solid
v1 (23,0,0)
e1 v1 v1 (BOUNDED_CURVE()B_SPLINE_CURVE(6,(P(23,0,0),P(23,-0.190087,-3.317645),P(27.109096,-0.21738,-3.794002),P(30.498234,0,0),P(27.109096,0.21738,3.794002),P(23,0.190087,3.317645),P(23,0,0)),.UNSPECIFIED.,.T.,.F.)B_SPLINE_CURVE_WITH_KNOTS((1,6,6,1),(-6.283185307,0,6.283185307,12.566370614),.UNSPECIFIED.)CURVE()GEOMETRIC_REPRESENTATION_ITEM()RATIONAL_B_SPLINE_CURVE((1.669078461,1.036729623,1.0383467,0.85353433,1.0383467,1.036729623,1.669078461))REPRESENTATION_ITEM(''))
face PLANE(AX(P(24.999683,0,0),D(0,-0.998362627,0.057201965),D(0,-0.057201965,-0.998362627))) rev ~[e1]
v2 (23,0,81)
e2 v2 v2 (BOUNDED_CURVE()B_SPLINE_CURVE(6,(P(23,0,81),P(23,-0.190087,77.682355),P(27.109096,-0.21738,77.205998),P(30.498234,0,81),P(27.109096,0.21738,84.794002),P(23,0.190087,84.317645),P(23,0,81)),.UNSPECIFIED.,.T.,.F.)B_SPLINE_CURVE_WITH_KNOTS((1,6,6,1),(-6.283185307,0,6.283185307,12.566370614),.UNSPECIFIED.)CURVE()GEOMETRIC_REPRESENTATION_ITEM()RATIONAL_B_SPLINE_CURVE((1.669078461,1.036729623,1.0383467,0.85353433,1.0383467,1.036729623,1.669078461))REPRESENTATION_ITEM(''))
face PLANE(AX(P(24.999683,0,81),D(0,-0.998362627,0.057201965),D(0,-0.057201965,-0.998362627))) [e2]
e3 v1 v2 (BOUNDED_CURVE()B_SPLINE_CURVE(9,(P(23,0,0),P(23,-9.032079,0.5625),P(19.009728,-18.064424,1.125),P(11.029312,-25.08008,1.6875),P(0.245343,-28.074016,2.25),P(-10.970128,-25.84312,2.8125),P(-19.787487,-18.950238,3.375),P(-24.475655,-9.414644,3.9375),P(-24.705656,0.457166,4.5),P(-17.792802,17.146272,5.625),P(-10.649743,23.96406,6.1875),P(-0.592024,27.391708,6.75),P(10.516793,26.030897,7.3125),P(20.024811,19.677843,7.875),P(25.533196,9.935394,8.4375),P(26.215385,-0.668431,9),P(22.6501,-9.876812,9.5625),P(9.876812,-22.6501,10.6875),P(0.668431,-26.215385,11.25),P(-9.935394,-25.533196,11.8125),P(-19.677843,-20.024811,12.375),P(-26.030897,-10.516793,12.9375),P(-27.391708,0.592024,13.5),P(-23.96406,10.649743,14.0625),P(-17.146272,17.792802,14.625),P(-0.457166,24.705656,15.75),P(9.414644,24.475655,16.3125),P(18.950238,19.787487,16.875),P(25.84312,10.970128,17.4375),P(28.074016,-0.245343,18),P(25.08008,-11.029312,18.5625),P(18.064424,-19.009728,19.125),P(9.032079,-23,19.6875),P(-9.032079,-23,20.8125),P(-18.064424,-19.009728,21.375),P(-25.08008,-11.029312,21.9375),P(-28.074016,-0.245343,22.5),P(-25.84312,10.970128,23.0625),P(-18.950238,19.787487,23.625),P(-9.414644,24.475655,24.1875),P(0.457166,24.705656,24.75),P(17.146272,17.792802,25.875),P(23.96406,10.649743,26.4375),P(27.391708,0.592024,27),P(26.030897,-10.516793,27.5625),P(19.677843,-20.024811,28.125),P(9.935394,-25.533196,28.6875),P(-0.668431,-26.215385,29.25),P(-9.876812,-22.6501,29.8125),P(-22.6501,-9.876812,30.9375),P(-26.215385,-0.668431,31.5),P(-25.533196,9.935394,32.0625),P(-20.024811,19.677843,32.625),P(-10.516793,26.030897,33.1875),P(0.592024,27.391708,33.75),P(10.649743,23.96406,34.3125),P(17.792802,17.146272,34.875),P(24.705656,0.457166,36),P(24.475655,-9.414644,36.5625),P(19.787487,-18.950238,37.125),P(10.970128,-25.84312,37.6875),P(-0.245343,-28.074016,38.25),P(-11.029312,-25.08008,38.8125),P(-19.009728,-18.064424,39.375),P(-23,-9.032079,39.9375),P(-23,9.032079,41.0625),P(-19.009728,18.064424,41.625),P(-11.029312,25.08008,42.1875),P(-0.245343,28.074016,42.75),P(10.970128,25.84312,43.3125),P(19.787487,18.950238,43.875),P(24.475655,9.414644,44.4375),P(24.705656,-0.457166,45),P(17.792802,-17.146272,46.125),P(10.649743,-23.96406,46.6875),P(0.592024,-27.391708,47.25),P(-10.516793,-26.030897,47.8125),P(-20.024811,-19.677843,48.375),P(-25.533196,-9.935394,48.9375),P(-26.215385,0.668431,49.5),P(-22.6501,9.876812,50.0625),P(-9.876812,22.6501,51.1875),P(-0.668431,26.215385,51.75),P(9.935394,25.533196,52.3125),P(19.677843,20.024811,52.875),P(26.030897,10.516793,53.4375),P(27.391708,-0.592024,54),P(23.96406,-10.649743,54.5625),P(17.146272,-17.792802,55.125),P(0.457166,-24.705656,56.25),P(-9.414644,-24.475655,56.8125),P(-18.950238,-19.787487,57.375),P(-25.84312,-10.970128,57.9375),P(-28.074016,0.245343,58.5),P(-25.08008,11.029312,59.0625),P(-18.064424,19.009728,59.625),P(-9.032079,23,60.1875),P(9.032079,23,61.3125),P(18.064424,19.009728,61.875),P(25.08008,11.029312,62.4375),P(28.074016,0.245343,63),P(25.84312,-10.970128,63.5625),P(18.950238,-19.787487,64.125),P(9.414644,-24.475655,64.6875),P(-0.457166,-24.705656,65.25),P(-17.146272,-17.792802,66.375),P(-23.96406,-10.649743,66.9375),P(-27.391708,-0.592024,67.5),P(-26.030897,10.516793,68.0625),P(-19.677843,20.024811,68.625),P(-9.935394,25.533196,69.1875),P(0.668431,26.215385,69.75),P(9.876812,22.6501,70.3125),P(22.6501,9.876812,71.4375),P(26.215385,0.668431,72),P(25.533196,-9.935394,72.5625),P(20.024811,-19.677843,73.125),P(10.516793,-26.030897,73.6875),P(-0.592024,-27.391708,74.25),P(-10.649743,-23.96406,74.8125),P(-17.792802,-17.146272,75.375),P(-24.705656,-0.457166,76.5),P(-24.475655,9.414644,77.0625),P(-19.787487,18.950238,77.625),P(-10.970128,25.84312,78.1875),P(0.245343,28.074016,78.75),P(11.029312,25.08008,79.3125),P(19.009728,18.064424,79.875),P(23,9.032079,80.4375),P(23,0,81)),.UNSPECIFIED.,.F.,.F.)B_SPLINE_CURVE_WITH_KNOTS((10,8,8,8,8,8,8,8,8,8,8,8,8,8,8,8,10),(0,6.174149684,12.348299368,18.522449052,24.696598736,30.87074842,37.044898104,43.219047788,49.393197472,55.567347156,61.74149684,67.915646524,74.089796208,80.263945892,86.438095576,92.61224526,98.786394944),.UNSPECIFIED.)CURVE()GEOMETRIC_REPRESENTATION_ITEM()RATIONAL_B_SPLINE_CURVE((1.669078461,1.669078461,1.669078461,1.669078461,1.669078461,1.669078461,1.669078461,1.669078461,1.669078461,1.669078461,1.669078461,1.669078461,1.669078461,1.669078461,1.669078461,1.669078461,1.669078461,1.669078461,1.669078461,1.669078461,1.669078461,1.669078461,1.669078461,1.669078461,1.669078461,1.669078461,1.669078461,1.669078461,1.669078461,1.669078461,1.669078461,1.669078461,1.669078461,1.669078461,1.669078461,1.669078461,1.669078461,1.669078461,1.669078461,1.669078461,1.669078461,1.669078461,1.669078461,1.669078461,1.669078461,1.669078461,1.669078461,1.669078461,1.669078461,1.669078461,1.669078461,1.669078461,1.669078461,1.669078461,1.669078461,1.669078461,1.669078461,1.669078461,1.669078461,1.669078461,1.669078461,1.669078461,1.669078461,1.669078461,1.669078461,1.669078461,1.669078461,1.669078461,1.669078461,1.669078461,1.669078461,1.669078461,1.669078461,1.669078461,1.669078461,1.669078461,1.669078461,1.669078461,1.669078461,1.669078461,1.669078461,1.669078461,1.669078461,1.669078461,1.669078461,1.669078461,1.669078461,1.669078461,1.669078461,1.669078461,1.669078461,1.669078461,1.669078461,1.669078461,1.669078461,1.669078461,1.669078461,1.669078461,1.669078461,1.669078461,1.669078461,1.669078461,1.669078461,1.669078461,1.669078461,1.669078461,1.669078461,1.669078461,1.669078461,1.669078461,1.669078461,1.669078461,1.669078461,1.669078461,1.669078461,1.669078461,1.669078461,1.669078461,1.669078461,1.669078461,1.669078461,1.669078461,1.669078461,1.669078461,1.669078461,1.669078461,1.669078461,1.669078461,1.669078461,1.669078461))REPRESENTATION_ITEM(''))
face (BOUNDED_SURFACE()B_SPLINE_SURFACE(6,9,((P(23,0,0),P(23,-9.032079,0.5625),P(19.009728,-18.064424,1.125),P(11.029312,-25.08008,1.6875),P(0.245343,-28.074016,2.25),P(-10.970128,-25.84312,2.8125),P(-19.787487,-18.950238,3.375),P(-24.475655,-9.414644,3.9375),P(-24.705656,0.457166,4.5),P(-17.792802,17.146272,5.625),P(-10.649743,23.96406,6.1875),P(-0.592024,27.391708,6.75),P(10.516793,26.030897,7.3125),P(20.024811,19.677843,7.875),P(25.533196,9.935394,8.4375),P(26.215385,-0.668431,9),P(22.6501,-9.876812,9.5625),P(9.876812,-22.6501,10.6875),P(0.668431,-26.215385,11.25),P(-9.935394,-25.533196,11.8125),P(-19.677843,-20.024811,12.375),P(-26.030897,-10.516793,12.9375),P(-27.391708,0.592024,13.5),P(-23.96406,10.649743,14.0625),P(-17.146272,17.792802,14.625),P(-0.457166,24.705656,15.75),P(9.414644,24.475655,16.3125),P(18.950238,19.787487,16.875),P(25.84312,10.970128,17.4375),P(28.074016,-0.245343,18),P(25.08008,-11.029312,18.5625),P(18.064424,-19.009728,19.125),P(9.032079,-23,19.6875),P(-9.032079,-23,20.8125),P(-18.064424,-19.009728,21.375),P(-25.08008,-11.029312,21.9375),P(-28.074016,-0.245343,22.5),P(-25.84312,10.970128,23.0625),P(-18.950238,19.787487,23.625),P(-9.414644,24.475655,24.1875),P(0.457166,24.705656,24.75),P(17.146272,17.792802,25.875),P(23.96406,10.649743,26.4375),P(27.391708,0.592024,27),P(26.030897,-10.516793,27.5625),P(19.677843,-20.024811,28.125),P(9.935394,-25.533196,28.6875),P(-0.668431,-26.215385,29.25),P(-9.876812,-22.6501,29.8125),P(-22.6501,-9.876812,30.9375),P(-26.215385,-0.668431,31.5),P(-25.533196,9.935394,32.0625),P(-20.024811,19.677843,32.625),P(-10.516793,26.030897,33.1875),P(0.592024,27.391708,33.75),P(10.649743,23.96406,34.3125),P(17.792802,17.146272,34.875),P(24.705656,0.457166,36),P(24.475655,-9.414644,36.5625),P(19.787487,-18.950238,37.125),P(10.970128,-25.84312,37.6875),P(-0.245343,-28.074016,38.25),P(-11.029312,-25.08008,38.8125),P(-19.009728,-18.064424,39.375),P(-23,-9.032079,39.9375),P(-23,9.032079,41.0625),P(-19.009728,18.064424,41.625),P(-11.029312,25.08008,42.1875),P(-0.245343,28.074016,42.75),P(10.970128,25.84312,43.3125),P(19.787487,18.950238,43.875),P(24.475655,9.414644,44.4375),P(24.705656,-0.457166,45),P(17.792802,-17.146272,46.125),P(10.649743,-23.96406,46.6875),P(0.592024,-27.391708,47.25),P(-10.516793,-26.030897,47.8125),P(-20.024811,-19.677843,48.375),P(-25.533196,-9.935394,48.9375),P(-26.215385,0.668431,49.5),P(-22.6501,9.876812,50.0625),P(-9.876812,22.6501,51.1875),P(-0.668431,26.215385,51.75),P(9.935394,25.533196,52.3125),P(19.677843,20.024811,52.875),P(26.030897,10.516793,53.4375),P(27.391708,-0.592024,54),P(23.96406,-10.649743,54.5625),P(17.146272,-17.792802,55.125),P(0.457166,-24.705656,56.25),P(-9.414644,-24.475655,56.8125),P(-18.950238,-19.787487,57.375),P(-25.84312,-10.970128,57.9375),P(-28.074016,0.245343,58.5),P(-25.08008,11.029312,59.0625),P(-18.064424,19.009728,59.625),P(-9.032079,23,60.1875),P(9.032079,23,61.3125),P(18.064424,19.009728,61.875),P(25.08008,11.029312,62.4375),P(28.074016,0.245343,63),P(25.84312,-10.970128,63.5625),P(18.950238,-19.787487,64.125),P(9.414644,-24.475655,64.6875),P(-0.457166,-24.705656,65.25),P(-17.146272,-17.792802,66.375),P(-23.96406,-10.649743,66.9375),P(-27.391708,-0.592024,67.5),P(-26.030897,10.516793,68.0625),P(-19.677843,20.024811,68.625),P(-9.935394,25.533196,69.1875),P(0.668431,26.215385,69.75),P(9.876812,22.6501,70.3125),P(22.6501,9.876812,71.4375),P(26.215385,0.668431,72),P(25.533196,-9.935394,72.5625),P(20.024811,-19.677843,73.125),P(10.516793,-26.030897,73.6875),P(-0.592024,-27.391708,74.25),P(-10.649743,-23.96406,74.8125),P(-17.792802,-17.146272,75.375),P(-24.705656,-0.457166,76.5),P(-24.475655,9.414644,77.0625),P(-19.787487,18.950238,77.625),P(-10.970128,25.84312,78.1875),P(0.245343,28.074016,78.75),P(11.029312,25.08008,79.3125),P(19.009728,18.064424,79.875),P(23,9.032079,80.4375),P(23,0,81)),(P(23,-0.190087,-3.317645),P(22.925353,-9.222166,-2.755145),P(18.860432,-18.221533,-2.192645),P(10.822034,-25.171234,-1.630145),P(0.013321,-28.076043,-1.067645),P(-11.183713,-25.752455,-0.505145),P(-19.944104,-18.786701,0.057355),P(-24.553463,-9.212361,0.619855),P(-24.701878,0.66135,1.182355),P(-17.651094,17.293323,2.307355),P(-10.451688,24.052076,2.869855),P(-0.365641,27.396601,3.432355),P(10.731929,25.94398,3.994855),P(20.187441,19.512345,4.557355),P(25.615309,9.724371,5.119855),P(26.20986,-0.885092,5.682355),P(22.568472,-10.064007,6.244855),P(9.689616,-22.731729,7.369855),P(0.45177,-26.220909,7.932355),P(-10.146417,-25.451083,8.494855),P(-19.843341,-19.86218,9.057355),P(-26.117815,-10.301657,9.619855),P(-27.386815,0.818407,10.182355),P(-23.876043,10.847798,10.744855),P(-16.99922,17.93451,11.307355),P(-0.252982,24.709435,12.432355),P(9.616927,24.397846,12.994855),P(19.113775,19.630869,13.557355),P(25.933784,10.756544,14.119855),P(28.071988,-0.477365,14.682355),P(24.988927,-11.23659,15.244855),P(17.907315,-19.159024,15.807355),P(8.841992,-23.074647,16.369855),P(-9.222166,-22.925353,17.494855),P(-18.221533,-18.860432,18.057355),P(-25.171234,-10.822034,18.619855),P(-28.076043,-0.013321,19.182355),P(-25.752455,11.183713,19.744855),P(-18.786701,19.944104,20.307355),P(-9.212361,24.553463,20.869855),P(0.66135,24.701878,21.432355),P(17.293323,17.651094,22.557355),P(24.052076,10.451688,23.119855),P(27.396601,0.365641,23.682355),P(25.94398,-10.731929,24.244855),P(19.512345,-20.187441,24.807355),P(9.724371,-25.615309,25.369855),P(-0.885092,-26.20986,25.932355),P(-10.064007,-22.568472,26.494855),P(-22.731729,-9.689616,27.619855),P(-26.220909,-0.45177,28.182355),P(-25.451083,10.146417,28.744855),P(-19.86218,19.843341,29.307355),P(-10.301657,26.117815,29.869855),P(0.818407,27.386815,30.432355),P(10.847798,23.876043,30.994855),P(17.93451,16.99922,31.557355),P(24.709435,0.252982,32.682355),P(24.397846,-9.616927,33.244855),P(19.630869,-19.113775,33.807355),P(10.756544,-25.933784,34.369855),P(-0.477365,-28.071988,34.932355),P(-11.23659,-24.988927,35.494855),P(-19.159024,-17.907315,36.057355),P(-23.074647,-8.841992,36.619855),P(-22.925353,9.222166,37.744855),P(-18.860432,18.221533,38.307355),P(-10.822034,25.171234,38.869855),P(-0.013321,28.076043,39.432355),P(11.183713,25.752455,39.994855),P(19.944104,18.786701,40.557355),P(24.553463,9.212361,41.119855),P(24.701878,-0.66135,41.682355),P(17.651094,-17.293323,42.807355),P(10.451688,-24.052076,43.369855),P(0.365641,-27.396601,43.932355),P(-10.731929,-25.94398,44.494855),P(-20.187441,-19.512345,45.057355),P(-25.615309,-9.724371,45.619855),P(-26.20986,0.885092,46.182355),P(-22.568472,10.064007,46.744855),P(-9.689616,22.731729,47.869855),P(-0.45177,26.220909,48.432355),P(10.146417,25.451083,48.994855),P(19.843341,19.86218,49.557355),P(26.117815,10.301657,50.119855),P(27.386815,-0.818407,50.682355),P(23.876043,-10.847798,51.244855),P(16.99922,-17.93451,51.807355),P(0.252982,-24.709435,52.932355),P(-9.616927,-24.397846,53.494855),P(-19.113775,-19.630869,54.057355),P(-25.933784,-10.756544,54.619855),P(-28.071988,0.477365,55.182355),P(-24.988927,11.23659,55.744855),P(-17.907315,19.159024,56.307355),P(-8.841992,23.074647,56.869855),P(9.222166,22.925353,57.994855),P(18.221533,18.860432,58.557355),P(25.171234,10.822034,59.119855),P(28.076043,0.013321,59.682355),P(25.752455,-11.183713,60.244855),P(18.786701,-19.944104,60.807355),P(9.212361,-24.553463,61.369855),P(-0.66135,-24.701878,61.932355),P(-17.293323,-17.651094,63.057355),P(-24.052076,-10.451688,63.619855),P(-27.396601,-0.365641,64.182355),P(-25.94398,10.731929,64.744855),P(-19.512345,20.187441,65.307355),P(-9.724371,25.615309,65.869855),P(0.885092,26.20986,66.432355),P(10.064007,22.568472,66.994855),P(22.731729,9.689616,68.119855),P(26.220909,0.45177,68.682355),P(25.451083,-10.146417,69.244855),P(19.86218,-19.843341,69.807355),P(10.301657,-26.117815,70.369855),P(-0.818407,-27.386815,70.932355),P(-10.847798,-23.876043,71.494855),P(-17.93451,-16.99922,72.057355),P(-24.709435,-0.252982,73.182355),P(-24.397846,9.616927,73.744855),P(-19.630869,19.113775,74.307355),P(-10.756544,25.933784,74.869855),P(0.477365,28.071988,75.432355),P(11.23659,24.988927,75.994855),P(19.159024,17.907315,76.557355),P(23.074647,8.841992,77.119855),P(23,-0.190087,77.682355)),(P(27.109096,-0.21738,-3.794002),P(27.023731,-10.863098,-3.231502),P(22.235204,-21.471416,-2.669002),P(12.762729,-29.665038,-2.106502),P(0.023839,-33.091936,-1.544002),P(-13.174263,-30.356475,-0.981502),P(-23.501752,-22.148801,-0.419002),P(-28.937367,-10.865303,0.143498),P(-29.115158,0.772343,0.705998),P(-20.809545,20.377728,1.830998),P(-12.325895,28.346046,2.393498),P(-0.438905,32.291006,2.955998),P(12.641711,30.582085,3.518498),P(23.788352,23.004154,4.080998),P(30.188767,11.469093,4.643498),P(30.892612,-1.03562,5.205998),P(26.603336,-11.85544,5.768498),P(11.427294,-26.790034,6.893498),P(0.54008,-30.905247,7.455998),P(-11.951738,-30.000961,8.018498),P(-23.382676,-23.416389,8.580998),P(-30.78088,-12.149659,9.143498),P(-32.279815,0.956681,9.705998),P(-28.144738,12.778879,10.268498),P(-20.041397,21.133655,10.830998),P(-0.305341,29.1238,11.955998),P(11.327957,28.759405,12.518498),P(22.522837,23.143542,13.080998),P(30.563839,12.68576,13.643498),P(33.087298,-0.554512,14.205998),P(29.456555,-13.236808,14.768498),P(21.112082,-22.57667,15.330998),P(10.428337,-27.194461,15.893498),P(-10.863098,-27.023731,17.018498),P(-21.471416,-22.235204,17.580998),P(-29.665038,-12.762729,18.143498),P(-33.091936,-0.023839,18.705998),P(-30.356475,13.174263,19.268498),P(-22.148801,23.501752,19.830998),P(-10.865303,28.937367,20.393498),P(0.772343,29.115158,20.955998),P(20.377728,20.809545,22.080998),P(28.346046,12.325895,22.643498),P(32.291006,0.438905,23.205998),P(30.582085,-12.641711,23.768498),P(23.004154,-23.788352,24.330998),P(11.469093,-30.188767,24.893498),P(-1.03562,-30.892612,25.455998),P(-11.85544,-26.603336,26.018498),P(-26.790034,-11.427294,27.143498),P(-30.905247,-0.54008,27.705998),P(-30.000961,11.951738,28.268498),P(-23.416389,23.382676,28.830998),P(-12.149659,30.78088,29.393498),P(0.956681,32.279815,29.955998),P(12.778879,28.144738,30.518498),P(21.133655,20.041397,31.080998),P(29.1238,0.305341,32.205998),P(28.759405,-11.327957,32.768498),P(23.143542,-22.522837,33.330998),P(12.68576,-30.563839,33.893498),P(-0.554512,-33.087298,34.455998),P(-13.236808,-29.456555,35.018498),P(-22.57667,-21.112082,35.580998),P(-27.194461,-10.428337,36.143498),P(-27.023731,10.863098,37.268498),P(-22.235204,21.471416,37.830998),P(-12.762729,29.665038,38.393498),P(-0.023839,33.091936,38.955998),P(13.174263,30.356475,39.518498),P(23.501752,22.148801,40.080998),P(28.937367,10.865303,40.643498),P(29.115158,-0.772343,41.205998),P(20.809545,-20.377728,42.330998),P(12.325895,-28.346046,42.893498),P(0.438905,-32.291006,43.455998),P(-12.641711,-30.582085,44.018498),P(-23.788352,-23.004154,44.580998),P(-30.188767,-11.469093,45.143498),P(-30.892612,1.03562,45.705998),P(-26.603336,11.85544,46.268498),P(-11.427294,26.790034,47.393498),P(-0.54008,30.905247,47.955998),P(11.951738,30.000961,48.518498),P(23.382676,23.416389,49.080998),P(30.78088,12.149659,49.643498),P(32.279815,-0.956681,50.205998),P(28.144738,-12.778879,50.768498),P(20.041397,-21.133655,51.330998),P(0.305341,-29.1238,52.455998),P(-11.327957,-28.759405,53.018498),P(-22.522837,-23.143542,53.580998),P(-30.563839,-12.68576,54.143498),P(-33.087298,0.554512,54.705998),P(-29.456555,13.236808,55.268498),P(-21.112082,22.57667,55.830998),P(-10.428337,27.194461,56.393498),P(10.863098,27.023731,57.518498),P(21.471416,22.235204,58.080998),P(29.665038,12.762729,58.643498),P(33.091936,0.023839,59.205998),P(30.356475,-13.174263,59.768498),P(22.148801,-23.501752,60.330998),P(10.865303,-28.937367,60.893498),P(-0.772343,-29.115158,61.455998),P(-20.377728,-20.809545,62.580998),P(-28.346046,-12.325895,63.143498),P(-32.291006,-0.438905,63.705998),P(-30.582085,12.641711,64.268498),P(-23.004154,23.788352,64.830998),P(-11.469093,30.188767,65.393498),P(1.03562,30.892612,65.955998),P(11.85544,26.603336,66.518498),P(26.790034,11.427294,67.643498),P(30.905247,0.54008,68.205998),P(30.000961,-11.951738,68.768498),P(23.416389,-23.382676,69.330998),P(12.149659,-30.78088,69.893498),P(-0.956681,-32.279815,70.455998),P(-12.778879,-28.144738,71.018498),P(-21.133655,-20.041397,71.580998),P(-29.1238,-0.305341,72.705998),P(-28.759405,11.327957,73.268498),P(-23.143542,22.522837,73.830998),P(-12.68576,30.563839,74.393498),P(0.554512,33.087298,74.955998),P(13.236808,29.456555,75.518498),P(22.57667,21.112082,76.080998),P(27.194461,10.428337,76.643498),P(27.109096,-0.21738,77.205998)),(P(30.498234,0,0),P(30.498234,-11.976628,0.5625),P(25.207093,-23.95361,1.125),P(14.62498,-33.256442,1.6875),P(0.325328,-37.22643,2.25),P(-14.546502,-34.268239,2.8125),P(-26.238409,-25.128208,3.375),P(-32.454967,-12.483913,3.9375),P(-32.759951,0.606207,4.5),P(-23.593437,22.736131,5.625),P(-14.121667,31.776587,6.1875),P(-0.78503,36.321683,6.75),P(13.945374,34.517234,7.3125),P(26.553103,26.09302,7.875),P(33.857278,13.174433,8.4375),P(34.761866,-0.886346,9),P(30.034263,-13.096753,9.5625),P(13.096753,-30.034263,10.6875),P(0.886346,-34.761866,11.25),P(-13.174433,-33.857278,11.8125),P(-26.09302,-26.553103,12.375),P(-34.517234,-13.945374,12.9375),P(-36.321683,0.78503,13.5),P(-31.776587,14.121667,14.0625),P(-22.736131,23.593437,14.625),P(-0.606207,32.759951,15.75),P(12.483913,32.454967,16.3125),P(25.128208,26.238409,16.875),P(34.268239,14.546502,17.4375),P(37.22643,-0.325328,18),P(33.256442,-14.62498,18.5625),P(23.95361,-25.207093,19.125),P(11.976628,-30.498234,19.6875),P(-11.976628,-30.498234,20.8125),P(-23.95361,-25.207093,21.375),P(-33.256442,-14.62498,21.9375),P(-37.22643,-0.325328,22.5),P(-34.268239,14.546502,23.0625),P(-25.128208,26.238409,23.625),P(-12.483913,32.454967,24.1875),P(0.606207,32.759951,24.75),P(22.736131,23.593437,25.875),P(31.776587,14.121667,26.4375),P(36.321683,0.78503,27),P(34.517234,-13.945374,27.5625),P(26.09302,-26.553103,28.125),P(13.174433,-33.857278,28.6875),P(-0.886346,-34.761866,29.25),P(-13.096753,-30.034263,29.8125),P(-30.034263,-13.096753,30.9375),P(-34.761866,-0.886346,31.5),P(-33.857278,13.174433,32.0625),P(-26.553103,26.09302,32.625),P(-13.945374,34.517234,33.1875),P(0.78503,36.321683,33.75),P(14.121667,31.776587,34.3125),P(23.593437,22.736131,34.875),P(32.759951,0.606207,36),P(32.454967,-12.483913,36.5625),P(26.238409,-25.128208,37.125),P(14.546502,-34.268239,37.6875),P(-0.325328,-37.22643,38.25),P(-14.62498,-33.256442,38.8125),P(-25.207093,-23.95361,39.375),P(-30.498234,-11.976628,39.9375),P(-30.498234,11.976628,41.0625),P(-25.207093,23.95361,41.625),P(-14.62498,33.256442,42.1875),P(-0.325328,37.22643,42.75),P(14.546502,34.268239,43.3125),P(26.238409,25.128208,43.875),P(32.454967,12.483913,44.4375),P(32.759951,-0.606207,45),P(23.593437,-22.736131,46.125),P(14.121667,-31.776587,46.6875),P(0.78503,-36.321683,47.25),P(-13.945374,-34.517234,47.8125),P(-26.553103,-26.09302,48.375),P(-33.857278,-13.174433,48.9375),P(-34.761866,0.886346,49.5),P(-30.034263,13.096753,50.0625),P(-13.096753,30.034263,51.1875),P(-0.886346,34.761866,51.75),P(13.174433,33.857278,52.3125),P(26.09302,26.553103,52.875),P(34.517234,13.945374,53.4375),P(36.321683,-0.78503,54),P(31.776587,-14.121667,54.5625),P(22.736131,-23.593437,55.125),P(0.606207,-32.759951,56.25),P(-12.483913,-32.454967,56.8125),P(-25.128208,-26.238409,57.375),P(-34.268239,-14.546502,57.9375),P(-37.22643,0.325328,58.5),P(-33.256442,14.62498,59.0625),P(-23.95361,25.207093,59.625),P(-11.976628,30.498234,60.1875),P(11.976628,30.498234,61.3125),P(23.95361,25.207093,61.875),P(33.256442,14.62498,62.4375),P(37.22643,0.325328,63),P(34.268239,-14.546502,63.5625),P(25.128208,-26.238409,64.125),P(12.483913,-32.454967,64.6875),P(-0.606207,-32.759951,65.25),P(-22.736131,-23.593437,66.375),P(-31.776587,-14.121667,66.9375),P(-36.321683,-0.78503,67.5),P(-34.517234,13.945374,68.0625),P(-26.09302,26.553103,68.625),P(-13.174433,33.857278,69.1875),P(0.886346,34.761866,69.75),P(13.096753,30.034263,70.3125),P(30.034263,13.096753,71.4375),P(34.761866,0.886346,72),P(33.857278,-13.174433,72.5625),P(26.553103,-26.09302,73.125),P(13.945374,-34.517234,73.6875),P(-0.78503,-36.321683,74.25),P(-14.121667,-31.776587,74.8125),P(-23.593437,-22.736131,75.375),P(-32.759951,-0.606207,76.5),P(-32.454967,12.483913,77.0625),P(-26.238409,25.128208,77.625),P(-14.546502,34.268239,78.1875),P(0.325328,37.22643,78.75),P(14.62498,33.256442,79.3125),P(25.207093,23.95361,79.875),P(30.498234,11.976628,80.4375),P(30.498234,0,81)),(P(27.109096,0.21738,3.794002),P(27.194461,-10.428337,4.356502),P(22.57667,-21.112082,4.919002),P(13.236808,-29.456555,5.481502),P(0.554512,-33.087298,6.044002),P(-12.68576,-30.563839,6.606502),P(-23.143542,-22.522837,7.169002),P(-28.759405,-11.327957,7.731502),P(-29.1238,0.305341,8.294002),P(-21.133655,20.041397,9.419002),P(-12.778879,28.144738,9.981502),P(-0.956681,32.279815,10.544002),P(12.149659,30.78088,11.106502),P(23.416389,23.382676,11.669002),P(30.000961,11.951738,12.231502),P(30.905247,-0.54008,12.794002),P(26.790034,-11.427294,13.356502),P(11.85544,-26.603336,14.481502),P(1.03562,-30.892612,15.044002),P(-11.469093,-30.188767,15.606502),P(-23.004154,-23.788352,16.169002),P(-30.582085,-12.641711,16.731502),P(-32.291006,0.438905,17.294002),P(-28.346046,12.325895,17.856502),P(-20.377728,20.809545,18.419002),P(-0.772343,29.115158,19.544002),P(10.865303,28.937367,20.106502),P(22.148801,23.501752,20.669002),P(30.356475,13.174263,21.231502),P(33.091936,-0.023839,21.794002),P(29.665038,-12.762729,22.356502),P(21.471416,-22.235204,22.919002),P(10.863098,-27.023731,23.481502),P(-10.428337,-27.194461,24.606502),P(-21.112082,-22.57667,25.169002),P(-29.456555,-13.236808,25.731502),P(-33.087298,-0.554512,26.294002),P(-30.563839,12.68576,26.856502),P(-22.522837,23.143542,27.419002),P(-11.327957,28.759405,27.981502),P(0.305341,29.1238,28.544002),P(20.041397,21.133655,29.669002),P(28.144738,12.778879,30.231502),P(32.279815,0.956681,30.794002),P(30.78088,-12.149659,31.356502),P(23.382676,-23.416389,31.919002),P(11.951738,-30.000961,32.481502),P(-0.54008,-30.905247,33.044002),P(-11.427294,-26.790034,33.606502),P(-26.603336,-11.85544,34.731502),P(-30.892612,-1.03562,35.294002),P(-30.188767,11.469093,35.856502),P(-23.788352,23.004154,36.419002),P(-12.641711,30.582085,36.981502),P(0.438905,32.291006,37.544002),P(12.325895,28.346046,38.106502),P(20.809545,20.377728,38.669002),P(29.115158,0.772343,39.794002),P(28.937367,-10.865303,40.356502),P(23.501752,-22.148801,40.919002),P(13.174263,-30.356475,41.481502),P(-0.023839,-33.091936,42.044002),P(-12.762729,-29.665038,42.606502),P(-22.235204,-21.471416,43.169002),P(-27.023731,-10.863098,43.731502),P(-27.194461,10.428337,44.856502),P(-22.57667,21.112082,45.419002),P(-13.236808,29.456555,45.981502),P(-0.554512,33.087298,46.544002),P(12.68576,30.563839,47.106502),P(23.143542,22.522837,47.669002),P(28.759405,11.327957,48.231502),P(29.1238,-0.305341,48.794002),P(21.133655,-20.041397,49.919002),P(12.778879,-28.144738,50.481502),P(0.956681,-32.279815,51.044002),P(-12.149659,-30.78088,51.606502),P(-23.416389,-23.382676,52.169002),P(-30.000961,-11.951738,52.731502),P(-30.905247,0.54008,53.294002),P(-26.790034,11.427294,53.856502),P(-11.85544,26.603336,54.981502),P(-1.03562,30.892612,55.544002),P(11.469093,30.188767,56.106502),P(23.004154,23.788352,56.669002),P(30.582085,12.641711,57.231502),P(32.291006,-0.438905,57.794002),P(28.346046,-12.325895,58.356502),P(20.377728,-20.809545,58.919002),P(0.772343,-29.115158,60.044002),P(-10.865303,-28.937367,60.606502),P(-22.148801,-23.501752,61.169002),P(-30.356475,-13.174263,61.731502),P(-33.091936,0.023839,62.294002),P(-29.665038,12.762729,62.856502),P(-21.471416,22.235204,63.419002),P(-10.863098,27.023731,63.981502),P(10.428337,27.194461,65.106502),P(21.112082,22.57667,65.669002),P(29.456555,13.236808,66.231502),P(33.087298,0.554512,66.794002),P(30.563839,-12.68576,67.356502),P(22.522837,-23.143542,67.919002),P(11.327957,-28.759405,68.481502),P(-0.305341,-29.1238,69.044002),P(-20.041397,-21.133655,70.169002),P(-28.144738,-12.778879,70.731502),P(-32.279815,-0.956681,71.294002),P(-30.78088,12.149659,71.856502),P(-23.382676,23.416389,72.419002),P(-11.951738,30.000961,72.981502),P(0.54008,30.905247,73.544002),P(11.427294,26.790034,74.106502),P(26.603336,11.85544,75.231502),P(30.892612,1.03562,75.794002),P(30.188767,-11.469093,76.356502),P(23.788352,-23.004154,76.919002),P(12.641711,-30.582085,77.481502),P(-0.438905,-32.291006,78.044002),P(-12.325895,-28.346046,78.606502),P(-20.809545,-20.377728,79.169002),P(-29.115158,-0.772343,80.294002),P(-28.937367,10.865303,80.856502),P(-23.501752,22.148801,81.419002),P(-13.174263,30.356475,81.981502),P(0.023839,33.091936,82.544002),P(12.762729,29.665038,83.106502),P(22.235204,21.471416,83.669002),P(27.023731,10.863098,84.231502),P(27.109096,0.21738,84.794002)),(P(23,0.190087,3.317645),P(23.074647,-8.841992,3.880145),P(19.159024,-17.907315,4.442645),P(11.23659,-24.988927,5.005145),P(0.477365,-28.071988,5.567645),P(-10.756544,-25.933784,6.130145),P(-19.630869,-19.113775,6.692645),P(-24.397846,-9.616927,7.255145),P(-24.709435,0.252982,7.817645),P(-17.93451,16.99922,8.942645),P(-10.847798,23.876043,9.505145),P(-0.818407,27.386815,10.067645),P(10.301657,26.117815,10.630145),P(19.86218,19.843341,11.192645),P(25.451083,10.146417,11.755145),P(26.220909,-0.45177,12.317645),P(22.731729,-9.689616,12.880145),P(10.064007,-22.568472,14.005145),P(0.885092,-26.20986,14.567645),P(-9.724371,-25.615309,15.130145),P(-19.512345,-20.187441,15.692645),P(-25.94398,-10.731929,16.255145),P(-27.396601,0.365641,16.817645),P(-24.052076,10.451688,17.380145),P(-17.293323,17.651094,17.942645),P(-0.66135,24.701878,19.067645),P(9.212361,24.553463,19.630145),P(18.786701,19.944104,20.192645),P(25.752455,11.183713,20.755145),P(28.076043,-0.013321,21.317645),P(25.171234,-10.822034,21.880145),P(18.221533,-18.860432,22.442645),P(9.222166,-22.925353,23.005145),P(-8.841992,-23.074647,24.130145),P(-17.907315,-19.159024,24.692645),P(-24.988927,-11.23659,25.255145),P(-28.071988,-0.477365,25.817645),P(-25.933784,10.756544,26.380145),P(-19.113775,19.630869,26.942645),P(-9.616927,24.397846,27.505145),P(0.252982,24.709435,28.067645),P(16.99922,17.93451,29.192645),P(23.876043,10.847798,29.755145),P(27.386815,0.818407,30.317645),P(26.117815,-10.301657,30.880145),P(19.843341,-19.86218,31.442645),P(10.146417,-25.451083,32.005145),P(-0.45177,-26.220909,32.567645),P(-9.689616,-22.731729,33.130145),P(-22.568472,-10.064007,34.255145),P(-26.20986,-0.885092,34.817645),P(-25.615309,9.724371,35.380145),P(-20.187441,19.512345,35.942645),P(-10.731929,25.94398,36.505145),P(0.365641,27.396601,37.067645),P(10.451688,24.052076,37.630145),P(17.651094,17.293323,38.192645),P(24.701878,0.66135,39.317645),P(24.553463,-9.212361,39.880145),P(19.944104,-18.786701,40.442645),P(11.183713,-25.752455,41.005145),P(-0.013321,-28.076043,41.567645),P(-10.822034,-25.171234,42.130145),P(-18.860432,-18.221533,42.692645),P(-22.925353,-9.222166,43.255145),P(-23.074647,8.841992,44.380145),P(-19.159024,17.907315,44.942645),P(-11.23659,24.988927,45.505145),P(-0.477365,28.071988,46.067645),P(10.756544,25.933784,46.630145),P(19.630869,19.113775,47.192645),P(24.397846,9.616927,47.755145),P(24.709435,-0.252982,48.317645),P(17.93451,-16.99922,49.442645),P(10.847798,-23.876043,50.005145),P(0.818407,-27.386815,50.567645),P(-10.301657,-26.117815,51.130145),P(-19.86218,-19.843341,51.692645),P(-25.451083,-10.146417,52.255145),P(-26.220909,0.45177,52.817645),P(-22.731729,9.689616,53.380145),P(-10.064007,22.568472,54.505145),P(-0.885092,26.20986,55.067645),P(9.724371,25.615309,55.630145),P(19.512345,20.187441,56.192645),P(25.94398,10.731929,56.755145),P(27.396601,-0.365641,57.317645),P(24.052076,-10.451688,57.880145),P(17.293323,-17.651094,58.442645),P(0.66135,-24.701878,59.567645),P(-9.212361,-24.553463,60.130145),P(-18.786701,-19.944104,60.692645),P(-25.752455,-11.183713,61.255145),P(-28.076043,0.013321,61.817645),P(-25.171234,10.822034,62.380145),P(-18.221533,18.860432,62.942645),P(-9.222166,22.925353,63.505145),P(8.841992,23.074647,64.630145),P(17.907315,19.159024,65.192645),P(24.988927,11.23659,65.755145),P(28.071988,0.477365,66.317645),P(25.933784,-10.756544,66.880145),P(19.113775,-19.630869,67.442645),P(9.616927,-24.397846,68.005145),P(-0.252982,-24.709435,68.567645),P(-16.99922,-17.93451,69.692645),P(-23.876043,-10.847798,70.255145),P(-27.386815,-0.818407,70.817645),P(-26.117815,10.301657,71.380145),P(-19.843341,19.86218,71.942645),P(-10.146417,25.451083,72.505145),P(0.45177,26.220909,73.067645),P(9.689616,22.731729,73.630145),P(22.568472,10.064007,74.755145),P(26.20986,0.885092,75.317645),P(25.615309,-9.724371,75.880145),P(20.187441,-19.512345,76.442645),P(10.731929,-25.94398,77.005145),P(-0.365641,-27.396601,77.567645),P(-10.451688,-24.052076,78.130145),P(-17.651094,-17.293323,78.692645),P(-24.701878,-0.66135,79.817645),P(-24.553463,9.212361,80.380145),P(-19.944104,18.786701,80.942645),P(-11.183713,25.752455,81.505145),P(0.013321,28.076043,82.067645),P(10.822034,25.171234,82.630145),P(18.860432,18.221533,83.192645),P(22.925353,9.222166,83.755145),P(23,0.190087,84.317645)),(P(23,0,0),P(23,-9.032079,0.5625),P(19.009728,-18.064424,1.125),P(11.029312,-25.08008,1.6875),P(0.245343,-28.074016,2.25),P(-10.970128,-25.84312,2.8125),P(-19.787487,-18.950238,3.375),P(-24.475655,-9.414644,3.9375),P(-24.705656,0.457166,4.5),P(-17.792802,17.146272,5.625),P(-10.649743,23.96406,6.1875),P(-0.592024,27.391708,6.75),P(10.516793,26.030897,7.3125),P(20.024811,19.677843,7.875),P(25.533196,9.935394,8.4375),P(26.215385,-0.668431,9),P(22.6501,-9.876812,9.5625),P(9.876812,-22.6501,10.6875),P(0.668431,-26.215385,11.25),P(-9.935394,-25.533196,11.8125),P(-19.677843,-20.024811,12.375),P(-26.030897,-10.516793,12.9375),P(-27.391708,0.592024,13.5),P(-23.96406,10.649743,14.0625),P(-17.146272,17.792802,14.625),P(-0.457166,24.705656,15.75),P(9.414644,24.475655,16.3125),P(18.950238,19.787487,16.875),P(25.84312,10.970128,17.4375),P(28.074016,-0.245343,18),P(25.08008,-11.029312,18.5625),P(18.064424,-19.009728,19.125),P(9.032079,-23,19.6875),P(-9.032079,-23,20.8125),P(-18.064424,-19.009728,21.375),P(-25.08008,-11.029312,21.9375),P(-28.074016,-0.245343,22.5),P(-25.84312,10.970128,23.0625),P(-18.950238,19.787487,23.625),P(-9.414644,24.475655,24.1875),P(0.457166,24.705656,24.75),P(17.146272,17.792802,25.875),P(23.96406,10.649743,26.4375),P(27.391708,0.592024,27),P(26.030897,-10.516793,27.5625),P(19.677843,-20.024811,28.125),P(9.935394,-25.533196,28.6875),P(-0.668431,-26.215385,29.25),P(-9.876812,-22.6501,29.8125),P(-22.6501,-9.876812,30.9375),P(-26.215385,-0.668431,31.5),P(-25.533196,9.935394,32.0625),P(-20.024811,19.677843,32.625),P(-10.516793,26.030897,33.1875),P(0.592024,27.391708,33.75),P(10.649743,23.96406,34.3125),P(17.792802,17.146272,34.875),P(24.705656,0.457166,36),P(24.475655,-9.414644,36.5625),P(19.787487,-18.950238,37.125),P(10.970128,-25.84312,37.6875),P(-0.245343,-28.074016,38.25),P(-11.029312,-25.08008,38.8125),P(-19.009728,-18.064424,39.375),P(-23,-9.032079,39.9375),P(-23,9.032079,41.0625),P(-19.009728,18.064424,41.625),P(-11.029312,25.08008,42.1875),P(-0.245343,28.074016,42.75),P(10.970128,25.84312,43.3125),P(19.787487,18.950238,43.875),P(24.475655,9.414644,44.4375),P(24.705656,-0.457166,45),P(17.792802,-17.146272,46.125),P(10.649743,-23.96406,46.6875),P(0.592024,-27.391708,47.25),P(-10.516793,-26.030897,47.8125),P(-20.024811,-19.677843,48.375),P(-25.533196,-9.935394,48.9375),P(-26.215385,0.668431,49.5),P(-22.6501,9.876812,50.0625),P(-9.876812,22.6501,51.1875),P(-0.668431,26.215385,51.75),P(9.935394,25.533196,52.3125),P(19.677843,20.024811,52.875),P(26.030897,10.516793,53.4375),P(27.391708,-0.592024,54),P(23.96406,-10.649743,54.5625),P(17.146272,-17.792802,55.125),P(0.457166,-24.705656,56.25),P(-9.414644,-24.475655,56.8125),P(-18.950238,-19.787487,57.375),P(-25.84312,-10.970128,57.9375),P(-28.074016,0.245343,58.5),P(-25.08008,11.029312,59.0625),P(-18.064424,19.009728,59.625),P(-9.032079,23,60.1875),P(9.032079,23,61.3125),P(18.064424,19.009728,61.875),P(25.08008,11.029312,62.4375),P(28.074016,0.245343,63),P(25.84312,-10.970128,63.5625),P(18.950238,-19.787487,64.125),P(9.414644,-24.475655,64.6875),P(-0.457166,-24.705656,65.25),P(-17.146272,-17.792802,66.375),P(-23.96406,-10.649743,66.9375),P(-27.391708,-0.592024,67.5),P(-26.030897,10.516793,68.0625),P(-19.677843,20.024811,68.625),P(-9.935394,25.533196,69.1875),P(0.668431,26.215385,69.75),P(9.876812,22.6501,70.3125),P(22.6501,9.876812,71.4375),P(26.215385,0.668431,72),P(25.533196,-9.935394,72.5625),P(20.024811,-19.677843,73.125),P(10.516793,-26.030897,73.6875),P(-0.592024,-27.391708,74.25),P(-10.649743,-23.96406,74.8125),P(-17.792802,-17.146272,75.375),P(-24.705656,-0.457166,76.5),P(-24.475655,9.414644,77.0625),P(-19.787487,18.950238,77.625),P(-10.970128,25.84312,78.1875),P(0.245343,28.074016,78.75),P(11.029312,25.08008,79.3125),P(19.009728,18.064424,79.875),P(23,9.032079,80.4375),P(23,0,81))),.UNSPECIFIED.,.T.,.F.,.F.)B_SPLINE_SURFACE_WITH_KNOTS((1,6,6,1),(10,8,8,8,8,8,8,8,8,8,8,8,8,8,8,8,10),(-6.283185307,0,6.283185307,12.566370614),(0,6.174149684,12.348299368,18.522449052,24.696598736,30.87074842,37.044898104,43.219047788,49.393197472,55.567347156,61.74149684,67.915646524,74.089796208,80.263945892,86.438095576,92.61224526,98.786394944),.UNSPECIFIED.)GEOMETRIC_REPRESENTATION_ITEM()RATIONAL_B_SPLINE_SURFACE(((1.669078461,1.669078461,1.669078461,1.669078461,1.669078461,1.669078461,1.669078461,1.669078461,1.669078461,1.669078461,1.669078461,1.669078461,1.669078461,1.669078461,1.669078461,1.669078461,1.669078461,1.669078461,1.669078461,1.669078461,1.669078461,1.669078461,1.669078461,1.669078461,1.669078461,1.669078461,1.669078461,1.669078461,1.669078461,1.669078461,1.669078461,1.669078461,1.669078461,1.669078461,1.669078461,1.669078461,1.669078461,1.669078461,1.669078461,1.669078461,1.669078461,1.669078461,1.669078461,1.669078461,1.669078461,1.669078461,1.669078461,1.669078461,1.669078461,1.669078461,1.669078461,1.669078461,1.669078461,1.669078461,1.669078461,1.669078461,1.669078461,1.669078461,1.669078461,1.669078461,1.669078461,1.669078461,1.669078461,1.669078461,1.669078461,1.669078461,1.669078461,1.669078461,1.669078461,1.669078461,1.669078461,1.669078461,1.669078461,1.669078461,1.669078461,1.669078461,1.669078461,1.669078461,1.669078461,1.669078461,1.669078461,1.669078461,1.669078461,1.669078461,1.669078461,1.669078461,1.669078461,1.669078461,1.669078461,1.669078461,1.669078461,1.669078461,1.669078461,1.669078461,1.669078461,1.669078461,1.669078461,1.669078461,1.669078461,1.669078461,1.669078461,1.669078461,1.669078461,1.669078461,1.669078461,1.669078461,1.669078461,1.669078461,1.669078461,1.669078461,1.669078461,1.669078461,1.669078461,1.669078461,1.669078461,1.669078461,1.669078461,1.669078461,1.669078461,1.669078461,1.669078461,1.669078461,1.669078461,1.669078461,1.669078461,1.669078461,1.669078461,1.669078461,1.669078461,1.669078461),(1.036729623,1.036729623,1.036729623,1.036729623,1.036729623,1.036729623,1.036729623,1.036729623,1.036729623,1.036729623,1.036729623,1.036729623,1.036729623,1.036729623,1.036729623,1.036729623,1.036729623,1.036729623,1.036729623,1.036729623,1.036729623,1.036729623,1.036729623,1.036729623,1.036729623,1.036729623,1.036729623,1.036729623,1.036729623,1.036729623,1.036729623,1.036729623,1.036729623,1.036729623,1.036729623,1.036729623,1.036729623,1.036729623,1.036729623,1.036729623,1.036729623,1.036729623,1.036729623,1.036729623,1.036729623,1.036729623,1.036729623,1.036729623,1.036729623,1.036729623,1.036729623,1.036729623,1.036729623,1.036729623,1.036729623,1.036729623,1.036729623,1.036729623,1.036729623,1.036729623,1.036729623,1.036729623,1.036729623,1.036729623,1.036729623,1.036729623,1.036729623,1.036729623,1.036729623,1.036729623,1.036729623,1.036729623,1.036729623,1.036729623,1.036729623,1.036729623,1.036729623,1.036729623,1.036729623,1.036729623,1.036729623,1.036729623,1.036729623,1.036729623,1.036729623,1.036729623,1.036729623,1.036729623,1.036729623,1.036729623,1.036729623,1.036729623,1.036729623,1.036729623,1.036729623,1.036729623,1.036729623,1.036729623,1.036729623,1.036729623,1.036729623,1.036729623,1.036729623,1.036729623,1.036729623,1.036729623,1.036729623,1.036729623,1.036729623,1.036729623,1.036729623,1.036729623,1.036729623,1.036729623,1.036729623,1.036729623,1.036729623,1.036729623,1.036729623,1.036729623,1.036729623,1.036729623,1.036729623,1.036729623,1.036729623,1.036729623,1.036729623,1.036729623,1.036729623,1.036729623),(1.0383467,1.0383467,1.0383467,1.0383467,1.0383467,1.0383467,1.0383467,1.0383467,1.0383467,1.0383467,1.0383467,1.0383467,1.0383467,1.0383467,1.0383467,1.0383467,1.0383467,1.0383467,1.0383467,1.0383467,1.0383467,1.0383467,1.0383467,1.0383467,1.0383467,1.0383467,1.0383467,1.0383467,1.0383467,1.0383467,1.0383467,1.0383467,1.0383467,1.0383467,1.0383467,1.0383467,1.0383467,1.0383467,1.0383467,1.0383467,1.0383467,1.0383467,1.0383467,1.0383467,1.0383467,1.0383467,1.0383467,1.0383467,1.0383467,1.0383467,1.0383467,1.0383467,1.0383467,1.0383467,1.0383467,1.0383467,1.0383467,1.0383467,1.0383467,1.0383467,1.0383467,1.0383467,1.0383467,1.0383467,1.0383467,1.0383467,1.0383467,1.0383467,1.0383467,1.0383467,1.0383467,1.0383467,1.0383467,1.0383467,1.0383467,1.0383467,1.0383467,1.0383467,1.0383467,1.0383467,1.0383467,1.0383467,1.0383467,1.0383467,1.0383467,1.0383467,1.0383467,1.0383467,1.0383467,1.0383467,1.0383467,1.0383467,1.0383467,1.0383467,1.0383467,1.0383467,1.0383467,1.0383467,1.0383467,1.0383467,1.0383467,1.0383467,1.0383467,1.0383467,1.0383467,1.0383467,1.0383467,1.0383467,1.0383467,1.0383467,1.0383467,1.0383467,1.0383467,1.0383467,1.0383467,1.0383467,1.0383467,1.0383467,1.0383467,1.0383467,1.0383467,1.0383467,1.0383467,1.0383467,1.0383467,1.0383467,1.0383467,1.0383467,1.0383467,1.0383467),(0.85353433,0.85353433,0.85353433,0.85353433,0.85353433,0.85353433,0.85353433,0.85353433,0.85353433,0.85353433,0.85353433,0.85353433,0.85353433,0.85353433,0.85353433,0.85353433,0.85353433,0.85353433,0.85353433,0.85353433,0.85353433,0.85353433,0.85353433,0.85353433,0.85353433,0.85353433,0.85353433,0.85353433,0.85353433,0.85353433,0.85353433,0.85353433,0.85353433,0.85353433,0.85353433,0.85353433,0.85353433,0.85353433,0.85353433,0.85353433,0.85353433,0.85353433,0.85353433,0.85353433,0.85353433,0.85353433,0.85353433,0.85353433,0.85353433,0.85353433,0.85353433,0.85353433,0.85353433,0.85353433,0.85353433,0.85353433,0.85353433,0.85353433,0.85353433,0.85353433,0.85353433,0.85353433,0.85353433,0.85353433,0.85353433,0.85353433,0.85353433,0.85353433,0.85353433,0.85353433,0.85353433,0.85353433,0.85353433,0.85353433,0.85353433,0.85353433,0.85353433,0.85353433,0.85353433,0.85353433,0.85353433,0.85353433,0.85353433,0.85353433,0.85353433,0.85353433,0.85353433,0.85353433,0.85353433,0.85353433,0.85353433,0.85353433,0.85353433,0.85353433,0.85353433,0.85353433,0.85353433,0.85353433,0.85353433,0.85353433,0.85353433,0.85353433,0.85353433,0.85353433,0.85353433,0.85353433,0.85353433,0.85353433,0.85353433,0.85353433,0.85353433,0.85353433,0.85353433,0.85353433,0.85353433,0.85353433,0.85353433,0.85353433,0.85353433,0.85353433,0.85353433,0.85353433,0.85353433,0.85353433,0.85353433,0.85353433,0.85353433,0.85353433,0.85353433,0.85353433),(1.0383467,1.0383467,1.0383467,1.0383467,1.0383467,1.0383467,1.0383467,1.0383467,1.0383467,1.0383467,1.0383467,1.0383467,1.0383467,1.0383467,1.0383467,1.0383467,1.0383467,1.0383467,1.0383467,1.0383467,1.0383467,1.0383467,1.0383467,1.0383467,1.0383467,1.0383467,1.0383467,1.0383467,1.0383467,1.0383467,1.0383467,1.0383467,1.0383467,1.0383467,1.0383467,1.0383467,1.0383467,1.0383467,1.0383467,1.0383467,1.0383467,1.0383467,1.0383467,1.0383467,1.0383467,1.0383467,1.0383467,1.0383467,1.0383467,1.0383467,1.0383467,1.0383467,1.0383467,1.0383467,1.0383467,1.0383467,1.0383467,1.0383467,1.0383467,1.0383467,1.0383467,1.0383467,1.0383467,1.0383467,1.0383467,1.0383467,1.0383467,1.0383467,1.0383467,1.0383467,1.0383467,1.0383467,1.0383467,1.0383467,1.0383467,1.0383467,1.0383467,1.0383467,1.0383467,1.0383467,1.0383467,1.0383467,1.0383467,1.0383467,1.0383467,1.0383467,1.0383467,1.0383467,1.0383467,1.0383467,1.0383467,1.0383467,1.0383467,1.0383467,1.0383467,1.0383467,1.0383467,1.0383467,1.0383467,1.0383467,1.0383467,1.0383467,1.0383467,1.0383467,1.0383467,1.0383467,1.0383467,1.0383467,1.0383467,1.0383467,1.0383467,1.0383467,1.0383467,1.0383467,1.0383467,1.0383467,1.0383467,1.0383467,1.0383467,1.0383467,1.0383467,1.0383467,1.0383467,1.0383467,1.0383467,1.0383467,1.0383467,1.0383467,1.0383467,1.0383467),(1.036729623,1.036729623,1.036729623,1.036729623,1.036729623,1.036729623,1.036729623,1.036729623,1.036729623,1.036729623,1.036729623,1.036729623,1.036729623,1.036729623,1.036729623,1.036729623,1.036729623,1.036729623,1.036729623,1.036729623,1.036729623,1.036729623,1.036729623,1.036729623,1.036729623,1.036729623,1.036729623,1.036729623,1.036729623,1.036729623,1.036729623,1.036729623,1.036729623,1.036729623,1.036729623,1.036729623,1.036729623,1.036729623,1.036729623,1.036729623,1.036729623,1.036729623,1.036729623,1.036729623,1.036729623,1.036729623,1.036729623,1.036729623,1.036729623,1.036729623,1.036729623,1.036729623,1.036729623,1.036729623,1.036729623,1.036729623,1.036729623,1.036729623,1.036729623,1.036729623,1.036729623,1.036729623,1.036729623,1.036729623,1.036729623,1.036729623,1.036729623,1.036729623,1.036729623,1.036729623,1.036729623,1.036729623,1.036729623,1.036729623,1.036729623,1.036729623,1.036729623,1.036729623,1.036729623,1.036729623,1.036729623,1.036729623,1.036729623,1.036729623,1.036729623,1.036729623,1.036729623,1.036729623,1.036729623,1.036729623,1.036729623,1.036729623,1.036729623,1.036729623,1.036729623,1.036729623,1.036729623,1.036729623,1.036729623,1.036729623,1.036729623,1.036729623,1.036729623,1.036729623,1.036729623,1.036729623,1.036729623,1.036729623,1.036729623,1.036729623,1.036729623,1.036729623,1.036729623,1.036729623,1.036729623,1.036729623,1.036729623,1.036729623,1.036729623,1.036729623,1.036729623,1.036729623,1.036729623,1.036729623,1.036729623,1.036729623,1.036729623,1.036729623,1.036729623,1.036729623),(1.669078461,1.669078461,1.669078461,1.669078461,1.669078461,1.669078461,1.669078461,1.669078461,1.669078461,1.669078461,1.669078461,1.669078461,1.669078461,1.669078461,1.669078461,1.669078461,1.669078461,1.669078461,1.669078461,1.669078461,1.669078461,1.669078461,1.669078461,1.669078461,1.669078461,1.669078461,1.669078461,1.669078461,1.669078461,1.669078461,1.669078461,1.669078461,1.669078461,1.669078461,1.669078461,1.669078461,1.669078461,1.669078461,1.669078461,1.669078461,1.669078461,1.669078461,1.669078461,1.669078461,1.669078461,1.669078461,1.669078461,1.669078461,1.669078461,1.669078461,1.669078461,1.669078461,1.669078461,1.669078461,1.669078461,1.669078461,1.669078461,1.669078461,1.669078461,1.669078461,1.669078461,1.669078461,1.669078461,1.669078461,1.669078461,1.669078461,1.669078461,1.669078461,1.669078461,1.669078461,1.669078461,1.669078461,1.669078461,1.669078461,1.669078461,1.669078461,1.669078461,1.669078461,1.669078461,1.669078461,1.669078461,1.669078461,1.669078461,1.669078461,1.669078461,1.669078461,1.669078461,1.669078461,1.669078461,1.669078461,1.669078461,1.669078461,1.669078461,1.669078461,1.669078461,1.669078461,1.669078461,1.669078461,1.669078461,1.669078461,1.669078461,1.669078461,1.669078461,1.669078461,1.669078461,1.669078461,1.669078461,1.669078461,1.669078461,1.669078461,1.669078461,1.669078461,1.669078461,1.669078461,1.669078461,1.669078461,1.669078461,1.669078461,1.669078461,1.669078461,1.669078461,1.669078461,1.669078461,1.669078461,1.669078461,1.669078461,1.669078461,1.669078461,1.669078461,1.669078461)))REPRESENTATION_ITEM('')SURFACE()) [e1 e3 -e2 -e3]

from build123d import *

# Parameters (mm, degrees)
SWEEP1_PITCH  = 9
SWEEP1_HEIGHT = 81
SWEEP1_RADIUS = 25
SKETCH3_R     = 2


with BuildPart() as part:
    # Sweep1: sweep along a helix
    with BuildLine() as sweep1_path:
        Helix(SWEEP1_PITCH, SWEEP1_HEIGHT, SWEEP1_RADIUS, center=(0, 0, 0), direction=(0, 0, 1), lefthand=True)
    # Sketch3 → Sweep1 (sweep)
    with BuildSketch(Plane(origin=(25, 0, 81), x_dir=(-1, 0, 0), z_dir=(-1.2621656405885473e-13, -0.9983626271075428, 0.05720196495685971))):
        Circle(SKETCH3_R)
    sweep(path=sweep1_path.line, is_frenet=True)


solid = part.part
